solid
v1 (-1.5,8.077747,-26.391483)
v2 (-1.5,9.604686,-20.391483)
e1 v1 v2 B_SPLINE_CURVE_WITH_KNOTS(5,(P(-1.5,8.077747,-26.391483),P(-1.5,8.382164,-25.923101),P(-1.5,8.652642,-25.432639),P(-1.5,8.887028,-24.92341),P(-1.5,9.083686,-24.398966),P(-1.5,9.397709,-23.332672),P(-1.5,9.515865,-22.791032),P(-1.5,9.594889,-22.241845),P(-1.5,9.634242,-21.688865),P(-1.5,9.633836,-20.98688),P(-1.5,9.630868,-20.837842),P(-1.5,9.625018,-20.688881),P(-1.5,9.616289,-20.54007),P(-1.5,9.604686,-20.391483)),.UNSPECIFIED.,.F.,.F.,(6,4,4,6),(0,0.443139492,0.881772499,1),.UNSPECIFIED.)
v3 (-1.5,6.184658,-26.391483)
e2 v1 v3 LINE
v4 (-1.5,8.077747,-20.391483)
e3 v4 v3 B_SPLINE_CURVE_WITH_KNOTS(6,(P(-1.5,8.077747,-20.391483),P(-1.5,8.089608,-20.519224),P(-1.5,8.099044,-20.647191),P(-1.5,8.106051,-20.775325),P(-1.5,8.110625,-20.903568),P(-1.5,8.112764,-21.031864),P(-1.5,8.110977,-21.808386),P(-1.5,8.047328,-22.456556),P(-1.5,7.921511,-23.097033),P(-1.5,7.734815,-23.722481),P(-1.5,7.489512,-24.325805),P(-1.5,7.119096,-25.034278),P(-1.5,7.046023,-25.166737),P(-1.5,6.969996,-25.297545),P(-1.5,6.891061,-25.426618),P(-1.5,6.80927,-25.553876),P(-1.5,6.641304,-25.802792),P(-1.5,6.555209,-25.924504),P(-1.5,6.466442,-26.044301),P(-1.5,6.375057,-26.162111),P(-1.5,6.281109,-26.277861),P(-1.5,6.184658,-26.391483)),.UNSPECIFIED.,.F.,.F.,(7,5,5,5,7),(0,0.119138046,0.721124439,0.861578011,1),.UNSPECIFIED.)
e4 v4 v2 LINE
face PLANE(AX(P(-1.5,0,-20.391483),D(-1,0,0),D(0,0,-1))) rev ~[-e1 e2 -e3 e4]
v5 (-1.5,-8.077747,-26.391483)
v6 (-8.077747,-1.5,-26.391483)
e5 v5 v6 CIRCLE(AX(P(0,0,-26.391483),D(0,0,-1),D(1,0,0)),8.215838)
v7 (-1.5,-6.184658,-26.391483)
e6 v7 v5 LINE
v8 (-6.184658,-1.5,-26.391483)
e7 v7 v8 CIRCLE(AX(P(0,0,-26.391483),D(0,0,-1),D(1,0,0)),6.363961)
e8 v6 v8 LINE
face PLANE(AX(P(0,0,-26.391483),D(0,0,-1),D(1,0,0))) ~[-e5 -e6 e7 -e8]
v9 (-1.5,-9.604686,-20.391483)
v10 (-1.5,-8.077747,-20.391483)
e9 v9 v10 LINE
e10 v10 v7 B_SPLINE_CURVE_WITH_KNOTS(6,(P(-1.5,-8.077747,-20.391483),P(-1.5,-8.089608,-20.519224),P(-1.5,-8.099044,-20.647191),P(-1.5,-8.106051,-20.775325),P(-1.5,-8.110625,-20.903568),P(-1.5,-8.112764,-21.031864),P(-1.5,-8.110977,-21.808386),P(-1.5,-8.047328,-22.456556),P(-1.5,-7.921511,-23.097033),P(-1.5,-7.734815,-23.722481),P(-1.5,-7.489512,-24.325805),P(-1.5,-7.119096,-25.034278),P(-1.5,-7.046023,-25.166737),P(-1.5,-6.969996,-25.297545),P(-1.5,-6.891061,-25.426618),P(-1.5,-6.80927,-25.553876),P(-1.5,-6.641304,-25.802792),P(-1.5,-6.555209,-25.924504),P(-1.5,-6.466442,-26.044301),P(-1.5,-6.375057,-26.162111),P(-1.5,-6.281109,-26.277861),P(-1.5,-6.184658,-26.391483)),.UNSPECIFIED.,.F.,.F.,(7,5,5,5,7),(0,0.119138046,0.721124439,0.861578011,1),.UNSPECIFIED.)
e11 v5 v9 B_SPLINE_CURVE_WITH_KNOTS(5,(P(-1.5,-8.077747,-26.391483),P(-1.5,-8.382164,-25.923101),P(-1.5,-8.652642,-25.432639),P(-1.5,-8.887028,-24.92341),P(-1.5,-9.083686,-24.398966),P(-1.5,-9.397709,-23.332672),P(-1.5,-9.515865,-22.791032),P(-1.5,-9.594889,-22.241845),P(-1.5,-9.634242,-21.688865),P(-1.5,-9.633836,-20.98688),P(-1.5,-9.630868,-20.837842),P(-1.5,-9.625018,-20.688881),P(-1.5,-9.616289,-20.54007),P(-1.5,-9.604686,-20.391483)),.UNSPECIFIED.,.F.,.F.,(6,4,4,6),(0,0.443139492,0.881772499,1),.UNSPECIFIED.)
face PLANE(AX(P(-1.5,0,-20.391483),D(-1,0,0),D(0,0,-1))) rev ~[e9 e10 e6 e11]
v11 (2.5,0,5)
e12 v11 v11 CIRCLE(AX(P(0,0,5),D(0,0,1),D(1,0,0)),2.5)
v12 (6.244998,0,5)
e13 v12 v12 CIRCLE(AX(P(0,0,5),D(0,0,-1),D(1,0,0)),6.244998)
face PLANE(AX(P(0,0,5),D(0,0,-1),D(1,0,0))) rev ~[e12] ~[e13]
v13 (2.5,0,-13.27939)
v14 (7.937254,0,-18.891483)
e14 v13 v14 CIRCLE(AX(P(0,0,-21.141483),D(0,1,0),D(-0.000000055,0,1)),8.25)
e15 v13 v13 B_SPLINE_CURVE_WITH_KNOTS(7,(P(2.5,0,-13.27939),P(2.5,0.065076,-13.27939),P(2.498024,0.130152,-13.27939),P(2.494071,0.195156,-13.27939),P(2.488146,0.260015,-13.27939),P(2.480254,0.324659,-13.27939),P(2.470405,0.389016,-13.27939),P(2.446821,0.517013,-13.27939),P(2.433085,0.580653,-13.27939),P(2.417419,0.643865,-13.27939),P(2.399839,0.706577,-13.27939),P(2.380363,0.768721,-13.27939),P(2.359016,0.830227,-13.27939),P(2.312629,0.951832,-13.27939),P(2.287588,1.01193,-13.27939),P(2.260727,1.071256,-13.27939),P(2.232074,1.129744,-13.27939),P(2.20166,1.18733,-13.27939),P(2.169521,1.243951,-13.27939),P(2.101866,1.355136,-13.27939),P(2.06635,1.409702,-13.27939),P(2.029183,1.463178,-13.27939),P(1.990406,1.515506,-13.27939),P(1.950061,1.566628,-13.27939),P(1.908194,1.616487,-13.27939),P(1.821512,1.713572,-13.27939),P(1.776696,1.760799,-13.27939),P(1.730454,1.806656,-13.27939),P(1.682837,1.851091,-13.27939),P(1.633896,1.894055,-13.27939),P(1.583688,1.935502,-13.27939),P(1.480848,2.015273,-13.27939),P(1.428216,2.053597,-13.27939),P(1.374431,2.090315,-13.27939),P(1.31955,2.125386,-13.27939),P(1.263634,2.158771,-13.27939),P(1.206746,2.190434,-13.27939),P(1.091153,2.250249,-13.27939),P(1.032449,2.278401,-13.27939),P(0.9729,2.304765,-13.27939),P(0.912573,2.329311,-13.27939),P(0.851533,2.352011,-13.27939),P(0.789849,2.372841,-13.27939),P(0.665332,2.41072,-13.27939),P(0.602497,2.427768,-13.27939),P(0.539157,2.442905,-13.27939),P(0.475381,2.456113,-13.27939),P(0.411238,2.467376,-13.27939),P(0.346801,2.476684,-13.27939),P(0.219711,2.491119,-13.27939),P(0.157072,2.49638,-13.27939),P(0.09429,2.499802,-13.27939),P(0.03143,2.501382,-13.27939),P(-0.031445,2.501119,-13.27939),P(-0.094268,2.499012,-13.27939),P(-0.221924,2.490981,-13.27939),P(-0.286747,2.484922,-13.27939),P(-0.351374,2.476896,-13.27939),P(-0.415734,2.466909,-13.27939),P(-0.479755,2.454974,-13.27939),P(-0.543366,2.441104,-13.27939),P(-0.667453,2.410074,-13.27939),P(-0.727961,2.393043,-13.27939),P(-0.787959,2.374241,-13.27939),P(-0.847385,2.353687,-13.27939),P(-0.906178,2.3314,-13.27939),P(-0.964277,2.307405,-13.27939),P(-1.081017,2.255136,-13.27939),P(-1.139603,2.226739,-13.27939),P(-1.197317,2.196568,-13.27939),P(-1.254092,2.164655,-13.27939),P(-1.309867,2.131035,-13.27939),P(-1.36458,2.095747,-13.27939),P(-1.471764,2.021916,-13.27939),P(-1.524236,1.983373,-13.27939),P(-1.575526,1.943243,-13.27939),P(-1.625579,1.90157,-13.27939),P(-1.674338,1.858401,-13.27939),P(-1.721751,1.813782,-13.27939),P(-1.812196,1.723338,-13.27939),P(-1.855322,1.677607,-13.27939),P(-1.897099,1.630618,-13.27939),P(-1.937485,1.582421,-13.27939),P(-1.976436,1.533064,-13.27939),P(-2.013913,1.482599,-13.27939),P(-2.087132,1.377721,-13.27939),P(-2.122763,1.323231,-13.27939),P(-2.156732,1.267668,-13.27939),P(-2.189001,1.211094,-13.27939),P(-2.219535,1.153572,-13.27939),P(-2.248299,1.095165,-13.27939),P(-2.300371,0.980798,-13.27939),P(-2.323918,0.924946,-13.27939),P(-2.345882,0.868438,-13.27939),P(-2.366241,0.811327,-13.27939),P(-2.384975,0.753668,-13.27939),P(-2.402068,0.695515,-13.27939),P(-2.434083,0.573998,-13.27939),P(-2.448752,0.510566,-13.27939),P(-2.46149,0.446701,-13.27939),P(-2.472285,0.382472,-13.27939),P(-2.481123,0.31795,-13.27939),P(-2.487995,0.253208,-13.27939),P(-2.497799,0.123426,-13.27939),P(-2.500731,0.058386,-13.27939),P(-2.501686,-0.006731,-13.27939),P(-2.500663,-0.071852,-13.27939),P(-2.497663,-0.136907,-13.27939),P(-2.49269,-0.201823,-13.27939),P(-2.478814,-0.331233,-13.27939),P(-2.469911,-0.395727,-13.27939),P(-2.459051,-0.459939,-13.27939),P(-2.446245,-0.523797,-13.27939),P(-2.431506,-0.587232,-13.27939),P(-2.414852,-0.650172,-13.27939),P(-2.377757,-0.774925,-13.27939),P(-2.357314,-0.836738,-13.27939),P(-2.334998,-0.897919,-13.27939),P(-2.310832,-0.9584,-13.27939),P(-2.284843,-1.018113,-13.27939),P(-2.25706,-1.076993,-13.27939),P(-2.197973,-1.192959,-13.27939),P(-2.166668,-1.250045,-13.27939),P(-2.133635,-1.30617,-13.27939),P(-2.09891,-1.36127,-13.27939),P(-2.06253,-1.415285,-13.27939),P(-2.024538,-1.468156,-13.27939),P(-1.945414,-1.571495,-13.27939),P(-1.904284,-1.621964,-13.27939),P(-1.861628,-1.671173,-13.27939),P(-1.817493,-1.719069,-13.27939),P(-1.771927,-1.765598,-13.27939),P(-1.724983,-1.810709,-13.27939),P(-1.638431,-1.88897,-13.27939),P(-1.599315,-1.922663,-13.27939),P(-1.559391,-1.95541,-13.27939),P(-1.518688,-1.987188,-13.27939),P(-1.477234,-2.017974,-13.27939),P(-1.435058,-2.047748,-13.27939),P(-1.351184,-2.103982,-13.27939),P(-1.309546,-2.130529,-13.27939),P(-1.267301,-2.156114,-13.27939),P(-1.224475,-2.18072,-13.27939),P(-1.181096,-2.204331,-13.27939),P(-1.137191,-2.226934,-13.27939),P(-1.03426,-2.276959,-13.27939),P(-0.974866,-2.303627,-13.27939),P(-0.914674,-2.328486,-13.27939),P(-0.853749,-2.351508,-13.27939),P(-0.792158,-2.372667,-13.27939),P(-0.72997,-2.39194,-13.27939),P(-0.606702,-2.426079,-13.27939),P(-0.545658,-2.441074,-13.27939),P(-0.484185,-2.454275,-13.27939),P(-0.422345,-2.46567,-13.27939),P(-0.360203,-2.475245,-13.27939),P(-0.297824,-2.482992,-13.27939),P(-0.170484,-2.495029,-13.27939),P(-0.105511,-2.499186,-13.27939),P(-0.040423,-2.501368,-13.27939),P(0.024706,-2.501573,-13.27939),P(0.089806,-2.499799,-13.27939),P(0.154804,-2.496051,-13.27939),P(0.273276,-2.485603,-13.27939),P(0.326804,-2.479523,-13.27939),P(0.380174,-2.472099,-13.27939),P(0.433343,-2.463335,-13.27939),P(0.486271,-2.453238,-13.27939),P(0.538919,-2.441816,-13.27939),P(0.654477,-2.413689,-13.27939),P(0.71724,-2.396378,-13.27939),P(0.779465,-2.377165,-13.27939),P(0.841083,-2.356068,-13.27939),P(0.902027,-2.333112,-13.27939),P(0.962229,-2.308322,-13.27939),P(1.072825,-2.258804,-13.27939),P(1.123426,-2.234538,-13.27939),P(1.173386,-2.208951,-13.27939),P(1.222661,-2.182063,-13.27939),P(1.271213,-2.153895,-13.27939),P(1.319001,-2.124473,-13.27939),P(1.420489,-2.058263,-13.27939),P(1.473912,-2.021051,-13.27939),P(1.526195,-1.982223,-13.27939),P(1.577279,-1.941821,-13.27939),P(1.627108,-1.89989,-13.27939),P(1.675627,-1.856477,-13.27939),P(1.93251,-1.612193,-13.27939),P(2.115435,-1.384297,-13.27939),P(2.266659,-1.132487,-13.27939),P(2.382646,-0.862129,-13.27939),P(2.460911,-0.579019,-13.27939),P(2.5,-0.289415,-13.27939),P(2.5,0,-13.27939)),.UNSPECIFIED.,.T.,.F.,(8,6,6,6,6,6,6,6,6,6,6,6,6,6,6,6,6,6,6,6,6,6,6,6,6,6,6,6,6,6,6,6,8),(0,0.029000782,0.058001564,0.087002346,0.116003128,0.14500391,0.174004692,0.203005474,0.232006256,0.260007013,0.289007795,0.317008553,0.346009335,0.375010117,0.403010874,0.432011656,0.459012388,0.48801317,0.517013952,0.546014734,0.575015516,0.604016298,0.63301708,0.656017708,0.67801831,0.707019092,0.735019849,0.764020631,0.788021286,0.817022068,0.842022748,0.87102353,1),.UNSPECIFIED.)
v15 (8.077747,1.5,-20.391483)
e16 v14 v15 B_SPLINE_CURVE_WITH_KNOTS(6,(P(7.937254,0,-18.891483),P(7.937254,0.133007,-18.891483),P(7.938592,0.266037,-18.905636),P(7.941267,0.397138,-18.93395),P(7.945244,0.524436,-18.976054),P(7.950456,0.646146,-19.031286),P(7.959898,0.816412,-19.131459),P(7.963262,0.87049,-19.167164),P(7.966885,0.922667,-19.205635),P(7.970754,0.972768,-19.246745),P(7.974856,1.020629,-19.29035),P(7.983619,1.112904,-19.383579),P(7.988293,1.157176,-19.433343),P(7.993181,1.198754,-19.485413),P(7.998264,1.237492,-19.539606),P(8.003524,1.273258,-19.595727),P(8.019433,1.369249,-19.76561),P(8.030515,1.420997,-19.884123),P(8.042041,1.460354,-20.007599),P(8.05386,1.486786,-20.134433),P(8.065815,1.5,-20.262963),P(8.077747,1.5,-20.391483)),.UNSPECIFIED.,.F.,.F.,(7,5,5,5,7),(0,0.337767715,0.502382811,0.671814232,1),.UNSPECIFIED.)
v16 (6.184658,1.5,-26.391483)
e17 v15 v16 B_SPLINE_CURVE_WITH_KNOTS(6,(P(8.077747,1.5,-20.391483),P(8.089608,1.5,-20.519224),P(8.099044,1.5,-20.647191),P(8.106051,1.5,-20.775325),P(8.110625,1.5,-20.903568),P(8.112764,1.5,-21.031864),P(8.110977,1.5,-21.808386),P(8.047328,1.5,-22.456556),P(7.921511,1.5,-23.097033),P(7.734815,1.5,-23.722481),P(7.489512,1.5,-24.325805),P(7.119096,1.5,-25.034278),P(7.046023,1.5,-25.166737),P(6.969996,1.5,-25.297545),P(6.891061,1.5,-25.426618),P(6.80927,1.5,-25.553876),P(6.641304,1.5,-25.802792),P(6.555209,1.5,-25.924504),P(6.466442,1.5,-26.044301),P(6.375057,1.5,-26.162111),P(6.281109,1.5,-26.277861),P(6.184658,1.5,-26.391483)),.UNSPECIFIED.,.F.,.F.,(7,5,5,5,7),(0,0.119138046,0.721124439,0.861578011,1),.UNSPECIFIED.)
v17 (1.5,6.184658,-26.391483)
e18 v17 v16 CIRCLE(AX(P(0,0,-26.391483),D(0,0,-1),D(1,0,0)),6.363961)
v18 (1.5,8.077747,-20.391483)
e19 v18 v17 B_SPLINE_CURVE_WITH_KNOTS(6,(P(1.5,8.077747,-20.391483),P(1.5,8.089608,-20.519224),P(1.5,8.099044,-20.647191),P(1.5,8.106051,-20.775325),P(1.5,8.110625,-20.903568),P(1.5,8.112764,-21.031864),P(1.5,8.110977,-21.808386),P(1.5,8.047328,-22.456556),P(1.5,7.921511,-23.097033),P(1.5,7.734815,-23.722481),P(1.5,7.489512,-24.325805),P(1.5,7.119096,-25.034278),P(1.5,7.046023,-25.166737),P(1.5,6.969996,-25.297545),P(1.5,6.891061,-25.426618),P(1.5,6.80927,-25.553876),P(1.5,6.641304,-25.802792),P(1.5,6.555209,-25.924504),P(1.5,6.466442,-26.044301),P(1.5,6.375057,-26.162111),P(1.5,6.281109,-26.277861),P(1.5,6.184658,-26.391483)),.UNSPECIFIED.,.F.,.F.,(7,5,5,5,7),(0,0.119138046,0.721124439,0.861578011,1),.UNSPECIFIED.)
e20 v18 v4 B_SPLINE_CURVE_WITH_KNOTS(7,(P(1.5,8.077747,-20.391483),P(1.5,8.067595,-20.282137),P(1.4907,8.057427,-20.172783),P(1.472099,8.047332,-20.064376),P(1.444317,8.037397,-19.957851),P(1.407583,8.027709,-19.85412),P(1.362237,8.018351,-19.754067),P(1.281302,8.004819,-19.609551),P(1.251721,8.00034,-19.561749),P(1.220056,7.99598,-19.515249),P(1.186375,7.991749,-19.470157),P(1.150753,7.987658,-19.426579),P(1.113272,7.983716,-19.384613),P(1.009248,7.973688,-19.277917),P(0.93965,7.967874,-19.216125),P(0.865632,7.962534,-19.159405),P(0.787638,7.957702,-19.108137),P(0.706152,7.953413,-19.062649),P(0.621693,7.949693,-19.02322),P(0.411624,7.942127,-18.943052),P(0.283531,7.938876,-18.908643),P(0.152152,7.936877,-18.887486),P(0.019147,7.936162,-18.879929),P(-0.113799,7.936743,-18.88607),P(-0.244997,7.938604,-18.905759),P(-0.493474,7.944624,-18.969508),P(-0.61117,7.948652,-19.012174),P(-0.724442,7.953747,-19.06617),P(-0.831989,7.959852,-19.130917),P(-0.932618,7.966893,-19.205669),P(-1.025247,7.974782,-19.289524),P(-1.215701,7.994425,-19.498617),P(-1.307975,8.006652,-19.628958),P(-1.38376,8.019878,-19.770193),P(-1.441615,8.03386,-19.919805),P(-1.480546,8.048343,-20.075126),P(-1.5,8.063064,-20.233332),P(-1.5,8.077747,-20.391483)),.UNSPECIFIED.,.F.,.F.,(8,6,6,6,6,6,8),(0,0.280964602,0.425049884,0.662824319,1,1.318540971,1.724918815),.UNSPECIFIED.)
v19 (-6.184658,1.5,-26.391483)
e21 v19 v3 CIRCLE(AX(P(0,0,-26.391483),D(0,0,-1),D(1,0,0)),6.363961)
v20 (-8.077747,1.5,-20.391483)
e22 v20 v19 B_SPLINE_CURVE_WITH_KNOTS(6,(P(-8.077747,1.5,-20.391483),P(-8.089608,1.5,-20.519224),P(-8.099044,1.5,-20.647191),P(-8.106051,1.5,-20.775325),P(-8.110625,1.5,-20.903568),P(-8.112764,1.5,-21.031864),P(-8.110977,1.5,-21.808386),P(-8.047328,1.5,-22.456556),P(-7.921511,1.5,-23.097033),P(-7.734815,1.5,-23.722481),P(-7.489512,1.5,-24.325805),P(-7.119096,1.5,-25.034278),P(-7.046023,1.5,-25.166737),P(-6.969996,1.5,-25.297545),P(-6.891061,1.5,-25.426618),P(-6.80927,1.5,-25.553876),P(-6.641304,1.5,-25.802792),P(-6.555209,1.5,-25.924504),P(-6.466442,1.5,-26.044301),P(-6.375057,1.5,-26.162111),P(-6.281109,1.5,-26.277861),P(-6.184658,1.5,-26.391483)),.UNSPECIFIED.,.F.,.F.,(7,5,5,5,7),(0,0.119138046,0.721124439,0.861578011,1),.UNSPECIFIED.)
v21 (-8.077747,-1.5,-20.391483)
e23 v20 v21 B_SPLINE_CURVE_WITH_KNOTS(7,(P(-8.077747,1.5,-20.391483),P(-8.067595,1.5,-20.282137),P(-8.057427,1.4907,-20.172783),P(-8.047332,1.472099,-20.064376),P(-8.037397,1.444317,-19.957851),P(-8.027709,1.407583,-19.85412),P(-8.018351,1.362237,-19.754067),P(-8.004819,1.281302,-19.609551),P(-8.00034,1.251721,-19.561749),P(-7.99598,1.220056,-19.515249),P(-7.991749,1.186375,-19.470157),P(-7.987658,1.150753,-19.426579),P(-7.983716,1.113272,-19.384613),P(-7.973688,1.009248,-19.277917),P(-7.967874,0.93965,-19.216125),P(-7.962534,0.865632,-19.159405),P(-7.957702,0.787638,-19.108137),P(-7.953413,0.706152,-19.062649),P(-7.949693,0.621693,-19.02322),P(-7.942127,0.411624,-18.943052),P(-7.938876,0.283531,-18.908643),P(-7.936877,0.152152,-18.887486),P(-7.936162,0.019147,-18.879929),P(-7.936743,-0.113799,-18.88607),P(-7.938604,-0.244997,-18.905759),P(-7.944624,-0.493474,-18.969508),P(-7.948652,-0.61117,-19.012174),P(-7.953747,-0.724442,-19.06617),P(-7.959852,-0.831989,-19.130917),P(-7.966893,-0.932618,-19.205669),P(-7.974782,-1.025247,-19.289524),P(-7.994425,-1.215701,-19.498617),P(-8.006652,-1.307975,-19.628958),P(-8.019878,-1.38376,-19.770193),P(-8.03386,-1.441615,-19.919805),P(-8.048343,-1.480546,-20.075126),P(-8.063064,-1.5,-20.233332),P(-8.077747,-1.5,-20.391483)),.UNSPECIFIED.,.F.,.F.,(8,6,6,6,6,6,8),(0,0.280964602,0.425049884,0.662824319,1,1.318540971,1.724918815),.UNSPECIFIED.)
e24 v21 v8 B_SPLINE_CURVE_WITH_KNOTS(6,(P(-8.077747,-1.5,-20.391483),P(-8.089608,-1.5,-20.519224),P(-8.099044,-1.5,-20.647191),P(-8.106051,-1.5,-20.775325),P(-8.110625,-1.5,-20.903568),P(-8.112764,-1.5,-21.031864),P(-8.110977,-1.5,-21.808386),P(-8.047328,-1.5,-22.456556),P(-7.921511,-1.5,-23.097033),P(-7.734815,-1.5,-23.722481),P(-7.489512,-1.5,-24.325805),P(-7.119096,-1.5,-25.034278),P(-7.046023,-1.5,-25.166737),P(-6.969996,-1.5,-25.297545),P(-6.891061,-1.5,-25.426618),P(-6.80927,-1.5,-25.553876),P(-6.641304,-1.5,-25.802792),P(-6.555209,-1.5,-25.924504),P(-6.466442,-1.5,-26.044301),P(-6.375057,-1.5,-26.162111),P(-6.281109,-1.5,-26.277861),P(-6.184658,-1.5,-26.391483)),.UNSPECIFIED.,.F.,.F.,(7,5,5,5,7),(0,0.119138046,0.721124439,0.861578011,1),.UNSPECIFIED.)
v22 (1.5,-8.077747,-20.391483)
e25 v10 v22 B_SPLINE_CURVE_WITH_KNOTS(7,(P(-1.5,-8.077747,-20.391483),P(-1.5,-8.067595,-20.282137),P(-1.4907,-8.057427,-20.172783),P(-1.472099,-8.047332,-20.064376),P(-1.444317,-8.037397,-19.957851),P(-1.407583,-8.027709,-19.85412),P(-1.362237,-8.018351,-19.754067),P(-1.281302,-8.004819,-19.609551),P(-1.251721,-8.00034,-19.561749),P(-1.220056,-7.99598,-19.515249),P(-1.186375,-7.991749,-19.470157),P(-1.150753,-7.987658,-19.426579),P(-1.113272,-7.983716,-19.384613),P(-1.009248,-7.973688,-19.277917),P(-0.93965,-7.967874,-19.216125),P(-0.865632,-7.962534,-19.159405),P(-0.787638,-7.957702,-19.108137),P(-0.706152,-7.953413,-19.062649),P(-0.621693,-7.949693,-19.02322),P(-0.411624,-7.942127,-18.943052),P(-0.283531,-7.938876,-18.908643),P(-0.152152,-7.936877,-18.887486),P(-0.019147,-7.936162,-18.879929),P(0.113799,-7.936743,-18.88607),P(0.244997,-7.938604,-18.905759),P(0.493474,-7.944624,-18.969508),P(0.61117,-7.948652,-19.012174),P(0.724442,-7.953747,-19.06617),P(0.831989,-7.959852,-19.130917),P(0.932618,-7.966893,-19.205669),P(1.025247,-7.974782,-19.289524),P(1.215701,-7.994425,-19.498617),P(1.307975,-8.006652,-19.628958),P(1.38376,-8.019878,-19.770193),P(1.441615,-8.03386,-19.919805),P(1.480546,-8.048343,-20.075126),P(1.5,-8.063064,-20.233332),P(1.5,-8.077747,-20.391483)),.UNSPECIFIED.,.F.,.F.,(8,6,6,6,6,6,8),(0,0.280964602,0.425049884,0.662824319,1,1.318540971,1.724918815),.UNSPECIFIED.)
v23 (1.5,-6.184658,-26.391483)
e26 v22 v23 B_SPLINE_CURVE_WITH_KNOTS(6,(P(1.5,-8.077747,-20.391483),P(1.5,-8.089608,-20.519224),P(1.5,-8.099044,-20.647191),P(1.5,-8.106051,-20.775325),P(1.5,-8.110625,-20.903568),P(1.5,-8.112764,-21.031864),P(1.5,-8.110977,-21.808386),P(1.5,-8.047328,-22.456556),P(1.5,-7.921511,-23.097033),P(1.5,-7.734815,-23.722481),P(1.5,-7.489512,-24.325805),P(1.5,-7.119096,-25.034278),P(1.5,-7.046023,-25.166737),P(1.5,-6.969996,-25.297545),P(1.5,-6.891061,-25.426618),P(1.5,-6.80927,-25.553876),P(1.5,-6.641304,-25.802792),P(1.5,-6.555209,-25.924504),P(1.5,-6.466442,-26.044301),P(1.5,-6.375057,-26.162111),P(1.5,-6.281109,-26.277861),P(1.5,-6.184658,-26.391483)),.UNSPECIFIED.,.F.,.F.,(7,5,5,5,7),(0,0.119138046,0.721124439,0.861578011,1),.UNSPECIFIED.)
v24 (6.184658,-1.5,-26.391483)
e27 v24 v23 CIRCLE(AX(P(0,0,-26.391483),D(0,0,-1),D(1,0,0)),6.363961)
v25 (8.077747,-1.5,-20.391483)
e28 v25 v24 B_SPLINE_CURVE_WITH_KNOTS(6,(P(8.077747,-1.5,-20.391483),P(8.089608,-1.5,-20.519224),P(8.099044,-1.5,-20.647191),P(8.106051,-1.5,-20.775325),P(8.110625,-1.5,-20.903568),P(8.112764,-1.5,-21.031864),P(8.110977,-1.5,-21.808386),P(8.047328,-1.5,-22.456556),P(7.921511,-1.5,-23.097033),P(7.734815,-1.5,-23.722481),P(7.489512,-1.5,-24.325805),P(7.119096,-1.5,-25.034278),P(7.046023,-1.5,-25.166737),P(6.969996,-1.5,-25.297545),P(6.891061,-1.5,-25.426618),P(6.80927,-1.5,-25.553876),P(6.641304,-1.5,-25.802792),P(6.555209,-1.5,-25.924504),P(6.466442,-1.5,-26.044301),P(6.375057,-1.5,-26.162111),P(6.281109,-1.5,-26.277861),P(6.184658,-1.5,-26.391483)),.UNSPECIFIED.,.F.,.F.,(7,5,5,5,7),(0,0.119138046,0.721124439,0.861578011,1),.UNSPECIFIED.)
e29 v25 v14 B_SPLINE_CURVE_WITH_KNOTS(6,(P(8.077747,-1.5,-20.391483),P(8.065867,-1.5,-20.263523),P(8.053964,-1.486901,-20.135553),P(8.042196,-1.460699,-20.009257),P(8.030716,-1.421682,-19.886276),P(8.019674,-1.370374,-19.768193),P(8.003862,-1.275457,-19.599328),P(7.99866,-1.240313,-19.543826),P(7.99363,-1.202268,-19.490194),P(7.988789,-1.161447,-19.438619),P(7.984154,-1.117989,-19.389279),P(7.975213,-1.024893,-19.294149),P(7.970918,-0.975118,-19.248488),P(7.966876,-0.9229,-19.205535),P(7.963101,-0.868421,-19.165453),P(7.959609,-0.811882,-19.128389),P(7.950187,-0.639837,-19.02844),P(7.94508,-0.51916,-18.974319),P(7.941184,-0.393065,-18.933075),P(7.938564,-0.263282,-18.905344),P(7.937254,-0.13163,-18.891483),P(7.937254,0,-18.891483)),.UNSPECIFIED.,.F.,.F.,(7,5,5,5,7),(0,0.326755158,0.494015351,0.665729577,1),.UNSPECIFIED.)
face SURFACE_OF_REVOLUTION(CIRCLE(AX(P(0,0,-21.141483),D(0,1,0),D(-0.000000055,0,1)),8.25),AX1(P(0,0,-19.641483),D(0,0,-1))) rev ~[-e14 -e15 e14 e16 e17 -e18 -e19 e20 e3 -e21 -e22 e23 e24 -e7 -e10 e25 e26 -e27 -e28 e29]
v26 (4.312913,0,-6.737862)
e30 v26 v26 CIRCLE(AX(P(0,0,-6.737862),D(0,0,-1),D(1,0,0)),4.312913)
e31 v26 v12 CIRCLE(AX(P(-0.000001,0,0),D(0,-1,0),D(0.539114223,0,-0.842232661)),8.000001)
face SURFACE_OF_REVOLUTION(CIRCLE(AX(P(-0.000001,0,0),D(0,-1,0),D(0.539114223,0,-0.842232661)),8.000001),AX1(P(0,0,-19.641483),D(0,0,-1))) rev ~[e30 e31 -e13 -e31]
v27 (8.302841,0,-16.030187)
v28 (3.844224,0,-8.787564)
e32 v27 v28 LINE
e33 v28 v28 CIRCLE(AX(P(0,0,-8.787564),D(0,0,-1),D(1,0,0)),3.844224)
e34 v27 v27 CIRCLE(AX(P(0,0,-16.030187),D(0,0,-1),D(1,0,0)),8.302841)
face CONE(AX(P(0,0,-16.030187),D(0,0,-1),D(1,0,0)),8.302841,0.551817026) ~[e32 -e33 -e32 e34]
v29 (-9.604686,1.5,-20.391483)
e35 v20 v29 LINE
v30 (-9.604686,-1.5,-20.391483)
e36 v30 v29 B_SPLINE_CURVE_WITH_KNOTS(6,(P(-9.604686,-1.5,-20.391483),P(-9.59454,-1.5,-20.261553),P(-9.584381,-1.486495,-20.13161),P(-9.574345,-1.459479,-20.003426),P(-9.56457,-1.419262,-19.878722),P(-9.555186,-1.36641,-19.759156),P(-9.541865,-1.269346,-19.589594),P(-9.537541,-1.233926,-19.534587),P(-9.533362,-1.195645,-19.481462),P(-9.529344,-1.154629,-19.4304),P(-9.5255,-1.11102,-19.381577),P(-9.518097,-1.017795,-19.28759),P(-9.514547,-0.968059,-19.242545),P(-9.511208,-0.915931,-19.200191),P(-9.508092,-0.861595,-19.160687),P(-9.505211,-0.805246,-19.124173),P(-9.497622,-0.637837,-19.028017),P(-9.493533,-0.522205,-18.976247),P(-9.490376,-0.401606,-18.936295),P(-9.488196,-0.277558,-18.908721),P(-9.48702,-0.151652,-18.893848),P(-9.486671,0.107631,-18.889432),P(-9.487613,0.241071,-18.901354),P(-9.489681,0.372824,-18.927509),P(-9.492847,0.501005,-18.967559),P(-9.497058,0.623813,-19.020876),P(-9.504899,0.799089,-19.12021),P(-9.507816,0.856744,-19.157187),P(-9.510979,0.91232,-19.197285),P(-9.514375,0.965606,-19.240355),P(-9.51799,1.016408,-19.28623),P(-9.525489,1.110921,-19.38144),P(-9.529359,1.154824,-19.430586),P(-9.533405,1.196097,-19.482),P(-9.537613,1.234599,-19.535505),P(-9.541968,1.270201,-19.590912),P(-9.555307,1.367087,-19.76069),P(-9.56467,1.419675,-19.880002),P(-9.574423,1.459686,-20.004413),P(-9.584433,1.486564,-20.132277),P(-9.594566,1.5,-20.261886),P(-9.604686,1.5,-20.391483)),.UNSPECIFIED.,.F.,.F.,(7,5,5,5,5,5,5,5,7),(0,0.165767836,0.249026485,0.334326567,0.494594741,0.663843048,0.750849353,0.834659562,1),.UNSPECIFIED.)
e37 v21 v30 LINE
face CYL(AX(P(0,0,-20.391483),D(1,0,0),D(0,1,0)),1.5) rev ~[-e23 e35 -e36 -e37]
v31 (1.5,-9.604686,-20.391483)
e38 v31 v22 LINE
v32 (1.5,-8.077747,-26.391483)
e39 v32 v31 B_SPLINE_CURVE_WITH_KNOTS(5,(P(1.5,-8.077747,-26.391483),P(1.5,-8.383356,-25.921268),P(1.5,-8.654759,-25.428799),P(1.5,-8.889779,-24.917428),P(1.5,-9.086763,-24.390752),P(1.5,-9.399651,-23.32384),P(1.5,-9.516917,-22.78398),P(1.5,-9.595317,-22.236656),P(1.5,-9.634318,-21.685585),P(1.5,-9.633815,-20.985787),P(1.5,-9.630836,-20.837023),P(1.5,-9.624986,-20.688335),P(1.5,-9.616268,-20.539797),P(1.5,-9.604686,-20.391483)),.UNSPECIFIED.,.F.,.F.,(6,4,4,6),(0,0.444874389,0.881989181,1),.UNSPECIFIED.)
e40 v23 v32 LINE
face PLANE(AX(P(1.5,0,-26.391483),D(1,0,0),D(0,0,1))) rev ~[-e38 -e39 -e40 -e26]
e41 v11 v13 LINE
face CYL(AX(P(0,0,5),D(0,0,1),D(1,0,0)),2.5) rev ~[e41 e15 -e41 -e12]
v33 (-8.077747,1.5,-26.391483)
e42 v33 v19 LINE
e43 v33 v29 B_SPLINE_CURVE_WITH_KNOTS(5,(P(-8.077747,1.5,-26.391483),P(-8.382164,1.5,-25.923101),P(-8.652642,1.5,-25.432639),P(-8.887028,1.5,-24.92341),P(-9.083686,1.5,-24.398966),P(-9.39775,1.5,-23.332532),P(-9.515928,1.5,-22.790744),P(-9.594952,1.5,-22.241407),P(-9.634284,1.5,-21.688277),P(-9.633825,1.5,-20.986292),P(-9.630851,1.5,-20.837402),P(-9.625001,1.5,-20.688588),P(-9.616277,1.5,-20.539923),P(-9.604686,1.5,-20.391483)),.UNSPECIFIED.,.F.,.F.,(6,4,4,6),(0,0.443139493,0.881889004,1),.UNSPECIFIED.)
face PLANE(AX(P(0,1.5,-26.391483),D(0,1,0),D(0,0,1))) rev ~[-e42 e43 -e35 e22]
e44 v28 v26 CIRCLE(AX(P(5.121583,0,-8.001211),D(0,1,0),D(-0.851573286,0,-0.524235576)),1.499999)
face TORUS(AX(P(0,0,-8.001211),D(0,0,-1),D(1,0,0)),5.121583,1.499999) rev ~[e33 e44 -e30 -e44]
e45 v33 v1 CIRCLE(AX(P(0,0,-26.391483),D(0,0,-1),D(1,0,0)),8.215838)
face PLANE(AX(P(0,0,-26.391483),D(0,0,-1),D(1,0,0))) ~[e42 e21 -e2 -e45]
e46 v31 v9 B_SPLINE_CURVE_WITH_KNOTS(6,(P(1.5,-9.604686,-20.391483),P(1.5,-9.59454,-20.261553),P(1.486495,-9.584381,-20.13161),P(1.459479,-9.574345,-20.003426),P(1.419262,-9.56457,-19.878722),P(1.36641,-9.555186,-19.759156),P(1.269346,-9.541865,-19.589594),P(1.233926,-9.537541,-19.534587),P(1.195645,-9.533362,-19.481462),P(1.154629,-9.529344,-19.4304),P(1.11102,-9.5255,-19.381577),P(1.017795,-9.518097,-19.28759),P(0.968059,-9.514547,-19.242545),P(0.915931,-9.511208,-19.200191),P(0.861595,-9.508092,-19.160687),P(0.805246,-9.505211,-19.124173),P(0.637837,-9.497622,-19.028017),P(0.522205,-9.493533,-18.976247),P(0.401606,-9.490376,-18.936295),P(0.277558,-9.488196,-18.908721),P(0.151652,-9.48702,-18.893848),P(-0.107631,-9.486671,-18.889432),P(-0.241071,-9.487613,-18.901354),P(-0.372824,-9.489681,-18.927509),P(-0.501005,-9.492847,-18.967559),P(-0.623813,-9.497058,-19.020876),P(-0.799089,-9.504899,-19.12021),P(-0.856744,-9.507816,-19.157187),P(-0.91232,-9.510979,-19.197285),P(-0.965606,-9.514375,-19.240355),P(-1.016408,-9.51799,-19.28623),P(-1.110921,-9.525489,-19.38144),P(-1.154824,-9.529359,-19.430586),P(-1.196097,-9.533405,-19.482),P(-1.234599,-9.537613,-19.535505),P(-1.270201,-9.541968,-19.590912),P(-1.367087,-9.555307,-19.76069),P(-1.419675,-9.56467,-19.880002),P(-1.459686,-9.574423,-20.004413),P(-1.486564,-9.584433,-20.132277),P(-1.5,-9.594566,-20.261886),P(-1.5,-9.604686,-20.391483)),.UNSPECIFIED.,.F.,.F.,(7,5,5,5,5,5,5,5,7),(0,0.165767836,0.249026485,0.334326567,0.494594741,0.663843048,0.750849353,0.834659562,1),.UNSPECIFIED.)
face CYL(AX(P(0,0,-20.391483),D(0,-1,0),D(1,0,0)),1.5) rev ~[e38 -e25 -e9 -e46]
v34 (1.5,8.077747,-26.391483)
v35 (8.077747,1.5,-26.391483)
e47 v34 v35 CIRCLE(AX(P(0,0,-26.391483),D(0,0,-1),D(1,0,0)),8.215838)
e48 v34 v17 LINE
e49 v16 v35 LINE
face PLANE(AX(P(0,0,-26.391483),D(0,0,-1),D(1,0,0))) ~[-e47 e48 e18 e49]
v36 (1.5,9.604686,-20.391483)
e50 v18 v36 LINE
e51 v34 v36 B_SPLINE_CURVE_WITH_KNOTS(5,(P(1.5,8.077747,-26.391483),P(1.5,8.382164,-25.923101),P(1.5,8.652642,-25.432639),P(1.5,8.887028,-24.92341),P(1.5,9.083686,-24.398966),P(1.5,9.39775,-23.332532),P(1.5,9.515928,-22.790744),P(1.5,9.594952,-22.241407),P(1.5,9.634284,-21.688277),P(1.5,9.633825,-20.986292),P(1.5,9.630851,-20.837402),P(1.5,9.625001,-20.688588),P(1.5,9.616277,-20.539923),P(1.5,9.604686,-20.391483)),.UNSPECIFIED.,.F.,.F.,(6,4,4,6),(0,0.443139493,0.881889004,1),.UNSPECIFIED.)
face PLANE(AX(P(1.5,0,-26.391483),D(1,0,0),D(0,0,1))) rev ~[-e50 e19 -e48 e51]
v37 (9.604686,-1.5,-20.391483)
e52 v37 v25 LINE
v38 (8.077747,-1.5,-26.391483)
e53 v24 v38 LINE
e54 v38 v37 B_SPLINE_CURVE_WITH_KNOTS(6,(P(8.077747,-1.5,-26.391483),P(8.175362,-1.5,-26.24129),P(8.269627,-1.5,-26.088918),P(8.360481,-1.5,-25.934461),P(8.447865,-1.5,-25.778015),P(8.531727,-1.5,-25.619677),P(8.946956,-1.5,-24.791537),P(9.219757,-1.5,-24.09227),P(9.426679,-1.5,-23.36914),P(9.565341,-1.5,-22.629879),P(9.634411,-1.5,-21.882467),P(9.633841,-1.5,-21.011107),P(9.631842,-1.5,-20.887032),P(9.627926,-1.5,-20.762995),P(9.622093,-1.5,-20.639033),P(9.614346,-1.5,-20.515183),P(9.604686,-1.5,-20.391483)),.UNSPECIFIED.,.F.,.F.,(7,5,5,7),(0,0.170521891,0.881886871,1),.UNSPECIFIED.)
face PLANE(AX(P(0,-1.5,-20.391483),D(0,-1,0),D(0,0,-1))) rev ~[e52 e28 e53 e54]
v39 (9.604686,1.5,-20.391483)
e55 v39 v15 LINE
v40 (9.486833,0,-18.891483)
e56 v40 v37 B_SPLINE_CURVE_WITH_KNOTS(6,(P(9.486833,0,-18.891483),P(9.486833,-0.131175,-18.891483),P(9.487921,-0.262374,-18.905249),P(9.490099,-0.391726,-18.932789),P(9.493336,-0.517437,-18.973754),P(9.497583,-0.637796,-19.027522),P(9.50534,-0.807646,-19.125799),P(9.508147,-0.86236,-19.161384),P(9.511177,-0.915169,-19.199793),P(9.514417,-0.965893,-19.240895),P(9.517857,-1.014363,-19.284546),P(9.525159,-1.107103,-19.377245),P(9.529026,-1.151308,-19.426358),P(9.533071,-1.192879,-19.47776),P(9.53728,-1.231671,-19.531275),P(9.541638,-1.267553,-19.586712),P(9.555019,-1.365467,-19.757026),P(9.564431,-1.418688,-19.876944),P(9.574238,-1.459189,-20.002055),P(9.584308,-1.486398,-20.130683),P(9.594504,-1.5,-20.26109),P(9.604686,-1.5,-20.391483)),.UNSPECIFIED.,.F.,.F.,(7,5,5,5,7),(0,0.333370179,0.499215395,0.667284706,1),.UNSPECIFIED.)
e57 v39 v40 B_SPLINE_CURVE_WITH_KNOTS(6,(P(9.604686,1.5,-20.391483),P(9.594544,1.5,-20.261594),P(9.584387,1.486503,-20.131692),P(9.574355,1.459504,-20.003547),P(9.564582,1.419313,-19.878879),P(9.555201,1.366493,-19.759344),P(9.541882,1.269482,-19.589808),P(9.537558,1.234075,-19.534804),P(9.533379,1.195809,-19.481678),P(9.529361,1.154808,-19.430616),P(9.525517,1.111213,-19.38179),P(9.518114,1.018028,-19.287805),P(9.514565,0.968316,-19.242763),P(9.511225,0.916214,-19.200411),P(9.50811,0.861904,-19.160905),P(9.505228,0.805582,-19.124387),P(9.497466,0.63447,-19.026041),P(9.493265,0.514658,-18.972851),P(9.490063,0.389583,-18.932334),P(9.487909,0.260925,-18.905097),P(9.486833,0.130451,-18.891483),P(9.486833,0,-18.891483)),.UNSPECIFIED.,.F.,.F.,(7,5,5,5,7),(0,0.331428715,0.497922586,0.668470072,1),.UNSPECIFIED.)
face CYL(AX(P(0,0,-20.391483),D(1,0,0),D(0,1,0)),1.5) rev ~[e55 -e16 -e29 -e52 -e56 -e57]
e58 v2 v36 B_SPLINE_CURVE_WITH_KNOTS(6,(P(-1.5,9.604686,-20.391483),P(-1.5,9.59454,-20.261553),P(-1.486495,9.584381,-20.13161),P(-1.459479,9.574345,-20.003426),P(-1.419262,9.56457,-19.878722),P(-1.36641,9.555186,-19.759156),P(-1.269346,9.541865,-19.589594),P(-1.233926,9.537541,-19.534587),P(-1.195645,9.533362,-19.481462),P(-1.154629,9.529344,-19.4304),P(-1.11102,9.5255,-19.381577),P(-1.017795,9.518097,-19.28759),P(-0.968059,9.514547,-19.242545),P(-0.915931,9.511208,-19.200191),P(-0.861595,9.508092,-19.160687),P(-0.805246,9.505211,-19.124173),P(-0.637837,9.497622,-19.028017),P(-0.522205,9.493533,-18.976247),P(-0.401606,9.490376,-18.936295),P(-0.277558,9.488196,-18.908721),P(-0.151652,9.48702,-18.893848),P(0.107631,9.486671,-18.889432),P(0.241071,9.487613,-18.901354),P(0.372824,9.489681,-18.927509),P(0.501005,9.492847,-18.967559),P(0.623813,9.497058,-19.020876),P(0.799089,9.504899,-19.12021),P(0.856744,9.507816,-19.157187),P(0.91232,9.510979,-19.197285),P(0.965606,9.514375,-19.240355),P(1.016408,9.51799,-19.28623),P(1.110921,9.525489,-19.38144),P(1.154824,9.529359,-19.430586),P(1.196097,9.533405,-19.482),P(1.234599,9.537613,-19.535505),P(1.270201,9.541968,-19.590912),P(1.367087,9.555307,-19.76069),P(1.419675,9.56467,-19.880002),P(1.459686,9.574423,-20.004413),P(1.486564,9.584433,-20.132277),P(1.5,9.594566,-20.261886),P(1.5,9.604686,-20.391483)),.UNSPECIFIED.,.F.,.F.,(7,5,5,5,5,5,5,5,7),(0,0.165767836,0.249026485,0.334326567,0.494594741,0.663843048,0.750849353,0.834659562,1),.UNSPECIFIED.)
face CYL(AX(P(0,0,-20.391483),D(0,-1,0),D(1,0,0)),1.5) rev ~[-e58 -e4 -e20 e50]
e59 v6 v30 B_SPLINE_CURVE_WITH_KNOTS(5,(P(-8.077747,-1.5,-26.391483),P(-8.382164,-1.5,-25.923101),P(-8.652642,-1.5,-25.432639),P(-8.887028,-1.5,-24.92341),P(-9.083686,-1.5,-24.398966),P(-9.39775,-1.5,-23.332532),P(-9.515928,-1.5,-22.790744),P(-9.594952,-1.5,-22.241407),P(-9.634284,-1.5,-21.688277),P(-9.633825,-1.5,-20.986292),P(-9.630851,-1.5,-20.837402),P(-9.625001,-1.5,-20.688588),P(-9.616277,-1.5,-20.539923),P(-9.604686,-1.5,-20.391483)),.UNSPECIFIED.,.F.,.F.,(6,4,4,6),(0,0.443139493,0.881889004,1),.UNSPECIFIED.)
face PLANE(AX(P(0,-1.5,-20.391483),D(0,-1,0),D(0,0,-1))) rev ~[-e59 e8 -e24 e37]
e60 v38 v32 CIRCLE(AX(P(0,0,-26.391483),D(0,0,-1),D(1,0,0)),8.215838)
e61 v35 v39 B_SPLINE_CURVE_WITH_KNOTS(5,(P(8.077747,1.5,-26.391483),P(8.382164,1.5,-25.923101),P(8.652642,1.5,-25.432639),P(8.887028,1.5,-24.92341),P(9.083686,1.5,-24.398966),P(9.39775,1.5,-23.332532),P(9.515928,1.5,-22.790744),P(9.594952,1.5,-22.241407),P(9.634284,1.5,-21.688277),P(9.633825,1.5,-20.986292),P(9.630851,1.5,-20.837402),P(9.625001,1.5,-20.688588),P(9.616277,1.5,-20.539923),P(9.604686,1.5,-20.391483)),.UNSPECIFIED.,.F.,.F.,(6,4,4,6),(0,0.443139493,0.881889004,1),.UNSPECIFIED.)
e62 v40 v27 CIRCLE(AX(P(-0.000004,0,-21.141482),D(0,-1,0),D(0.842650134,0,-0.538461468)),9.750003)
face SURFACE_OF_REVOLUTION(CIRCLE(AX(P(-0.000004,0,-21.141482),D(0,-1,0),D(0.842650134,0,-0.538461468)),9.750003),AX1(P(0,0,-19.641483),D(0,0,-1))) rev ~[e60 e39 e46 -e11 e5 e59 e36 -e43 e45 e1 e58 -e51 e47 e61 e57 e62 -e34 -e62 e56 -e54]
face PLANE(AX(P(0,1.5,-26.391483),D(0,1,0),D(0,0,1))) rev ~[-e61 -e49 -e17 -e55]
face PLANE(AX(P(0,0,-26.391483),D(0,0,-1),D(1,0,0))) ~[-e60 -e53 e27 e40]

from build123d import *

# Parameters (mm, degrees)
F2_R     = 2.5
F3_DEPTH = 31.392483
F5_DEPTH = 12.5
F7_DEPTH = 12.5


with BuildPart() as f1:
    # F0 (on Front) → F1 (revolve)
    with BuildSketch(Plane.XZ):
        with BuildLine():
            ThreePointArc((3.844224, -8.787564), (3.659325, -7.666848), (4.312913, -6.737862))
            ThreePointArc((4.312913, -6.737862), (7.893777, -1.299338), (6.244998, 5))
            Line((6.244998, 5), (0, 5))
            Line((0, 5), (0, -8))
            Line((0, -8), (0, -12.891483))
            ThreePointArc((0, -12.891483), (7.462406, -17.623671), (6.363961, -26.391483))
            Line((6.363961, -26.391483), (8.215838, -26.391483))
            ThreePointArc((8.215838, -26.391483), (9.749656, -21.223349), (8.302841, -16.030187))
            Line((8.302841, -16.030187), (3.844224, -8.787564))
        make_face()
    revolve(axis=Axis((0, 0, -19.641483), (0, 0, -1)))

    # F2 (on face) → F3 (cut, through all)
    with BuildSketch(Plane.XY.offset(5)):
        Circle(F2_R)
    extrude(amount=-F3_DEPTH, mode=Mode.SUBTRACT)

    # F4 (on Front) → F5 (cut, symmetric)
    with BuildSketch(Plane.XZ):
        with BuildLine():
            Line((-1.5, -20.391483), (-1.5, -26.391483))
            Line((-1.5, -26.391483), (1.5, -26.391483))
            Line((1.5, -26.391483), (1.5, -20.391483))
            ThreePointArc((1.5, -20.391483), (0, -18.891483), (-1.5, -20.391483))
        make_face()
    extrude(amount=F5_DEPTH, both=True, mode=Mode.SUBTRACT)

    # F6 (on Right) → F7 (cut, symmetric)
    with BuildSketch(Plane.YZ):
        with BuildLine():
            Line((-1.5, -20.391483), (-1.5, -26.391483))
            Line((-1.5, -26.391483), (1.5, -26.391483))
            Line((1.5, -26.391483), (1.5, -20.391483))
            ThreePointArc((1.5, -20.391483), (0, -18.891483), (-1.5, -20.391483))
        make_face()
    extrude(amount=F7_DEPTH, both=True, mode=Mode.SUBTRACT)


solid = f1.part
